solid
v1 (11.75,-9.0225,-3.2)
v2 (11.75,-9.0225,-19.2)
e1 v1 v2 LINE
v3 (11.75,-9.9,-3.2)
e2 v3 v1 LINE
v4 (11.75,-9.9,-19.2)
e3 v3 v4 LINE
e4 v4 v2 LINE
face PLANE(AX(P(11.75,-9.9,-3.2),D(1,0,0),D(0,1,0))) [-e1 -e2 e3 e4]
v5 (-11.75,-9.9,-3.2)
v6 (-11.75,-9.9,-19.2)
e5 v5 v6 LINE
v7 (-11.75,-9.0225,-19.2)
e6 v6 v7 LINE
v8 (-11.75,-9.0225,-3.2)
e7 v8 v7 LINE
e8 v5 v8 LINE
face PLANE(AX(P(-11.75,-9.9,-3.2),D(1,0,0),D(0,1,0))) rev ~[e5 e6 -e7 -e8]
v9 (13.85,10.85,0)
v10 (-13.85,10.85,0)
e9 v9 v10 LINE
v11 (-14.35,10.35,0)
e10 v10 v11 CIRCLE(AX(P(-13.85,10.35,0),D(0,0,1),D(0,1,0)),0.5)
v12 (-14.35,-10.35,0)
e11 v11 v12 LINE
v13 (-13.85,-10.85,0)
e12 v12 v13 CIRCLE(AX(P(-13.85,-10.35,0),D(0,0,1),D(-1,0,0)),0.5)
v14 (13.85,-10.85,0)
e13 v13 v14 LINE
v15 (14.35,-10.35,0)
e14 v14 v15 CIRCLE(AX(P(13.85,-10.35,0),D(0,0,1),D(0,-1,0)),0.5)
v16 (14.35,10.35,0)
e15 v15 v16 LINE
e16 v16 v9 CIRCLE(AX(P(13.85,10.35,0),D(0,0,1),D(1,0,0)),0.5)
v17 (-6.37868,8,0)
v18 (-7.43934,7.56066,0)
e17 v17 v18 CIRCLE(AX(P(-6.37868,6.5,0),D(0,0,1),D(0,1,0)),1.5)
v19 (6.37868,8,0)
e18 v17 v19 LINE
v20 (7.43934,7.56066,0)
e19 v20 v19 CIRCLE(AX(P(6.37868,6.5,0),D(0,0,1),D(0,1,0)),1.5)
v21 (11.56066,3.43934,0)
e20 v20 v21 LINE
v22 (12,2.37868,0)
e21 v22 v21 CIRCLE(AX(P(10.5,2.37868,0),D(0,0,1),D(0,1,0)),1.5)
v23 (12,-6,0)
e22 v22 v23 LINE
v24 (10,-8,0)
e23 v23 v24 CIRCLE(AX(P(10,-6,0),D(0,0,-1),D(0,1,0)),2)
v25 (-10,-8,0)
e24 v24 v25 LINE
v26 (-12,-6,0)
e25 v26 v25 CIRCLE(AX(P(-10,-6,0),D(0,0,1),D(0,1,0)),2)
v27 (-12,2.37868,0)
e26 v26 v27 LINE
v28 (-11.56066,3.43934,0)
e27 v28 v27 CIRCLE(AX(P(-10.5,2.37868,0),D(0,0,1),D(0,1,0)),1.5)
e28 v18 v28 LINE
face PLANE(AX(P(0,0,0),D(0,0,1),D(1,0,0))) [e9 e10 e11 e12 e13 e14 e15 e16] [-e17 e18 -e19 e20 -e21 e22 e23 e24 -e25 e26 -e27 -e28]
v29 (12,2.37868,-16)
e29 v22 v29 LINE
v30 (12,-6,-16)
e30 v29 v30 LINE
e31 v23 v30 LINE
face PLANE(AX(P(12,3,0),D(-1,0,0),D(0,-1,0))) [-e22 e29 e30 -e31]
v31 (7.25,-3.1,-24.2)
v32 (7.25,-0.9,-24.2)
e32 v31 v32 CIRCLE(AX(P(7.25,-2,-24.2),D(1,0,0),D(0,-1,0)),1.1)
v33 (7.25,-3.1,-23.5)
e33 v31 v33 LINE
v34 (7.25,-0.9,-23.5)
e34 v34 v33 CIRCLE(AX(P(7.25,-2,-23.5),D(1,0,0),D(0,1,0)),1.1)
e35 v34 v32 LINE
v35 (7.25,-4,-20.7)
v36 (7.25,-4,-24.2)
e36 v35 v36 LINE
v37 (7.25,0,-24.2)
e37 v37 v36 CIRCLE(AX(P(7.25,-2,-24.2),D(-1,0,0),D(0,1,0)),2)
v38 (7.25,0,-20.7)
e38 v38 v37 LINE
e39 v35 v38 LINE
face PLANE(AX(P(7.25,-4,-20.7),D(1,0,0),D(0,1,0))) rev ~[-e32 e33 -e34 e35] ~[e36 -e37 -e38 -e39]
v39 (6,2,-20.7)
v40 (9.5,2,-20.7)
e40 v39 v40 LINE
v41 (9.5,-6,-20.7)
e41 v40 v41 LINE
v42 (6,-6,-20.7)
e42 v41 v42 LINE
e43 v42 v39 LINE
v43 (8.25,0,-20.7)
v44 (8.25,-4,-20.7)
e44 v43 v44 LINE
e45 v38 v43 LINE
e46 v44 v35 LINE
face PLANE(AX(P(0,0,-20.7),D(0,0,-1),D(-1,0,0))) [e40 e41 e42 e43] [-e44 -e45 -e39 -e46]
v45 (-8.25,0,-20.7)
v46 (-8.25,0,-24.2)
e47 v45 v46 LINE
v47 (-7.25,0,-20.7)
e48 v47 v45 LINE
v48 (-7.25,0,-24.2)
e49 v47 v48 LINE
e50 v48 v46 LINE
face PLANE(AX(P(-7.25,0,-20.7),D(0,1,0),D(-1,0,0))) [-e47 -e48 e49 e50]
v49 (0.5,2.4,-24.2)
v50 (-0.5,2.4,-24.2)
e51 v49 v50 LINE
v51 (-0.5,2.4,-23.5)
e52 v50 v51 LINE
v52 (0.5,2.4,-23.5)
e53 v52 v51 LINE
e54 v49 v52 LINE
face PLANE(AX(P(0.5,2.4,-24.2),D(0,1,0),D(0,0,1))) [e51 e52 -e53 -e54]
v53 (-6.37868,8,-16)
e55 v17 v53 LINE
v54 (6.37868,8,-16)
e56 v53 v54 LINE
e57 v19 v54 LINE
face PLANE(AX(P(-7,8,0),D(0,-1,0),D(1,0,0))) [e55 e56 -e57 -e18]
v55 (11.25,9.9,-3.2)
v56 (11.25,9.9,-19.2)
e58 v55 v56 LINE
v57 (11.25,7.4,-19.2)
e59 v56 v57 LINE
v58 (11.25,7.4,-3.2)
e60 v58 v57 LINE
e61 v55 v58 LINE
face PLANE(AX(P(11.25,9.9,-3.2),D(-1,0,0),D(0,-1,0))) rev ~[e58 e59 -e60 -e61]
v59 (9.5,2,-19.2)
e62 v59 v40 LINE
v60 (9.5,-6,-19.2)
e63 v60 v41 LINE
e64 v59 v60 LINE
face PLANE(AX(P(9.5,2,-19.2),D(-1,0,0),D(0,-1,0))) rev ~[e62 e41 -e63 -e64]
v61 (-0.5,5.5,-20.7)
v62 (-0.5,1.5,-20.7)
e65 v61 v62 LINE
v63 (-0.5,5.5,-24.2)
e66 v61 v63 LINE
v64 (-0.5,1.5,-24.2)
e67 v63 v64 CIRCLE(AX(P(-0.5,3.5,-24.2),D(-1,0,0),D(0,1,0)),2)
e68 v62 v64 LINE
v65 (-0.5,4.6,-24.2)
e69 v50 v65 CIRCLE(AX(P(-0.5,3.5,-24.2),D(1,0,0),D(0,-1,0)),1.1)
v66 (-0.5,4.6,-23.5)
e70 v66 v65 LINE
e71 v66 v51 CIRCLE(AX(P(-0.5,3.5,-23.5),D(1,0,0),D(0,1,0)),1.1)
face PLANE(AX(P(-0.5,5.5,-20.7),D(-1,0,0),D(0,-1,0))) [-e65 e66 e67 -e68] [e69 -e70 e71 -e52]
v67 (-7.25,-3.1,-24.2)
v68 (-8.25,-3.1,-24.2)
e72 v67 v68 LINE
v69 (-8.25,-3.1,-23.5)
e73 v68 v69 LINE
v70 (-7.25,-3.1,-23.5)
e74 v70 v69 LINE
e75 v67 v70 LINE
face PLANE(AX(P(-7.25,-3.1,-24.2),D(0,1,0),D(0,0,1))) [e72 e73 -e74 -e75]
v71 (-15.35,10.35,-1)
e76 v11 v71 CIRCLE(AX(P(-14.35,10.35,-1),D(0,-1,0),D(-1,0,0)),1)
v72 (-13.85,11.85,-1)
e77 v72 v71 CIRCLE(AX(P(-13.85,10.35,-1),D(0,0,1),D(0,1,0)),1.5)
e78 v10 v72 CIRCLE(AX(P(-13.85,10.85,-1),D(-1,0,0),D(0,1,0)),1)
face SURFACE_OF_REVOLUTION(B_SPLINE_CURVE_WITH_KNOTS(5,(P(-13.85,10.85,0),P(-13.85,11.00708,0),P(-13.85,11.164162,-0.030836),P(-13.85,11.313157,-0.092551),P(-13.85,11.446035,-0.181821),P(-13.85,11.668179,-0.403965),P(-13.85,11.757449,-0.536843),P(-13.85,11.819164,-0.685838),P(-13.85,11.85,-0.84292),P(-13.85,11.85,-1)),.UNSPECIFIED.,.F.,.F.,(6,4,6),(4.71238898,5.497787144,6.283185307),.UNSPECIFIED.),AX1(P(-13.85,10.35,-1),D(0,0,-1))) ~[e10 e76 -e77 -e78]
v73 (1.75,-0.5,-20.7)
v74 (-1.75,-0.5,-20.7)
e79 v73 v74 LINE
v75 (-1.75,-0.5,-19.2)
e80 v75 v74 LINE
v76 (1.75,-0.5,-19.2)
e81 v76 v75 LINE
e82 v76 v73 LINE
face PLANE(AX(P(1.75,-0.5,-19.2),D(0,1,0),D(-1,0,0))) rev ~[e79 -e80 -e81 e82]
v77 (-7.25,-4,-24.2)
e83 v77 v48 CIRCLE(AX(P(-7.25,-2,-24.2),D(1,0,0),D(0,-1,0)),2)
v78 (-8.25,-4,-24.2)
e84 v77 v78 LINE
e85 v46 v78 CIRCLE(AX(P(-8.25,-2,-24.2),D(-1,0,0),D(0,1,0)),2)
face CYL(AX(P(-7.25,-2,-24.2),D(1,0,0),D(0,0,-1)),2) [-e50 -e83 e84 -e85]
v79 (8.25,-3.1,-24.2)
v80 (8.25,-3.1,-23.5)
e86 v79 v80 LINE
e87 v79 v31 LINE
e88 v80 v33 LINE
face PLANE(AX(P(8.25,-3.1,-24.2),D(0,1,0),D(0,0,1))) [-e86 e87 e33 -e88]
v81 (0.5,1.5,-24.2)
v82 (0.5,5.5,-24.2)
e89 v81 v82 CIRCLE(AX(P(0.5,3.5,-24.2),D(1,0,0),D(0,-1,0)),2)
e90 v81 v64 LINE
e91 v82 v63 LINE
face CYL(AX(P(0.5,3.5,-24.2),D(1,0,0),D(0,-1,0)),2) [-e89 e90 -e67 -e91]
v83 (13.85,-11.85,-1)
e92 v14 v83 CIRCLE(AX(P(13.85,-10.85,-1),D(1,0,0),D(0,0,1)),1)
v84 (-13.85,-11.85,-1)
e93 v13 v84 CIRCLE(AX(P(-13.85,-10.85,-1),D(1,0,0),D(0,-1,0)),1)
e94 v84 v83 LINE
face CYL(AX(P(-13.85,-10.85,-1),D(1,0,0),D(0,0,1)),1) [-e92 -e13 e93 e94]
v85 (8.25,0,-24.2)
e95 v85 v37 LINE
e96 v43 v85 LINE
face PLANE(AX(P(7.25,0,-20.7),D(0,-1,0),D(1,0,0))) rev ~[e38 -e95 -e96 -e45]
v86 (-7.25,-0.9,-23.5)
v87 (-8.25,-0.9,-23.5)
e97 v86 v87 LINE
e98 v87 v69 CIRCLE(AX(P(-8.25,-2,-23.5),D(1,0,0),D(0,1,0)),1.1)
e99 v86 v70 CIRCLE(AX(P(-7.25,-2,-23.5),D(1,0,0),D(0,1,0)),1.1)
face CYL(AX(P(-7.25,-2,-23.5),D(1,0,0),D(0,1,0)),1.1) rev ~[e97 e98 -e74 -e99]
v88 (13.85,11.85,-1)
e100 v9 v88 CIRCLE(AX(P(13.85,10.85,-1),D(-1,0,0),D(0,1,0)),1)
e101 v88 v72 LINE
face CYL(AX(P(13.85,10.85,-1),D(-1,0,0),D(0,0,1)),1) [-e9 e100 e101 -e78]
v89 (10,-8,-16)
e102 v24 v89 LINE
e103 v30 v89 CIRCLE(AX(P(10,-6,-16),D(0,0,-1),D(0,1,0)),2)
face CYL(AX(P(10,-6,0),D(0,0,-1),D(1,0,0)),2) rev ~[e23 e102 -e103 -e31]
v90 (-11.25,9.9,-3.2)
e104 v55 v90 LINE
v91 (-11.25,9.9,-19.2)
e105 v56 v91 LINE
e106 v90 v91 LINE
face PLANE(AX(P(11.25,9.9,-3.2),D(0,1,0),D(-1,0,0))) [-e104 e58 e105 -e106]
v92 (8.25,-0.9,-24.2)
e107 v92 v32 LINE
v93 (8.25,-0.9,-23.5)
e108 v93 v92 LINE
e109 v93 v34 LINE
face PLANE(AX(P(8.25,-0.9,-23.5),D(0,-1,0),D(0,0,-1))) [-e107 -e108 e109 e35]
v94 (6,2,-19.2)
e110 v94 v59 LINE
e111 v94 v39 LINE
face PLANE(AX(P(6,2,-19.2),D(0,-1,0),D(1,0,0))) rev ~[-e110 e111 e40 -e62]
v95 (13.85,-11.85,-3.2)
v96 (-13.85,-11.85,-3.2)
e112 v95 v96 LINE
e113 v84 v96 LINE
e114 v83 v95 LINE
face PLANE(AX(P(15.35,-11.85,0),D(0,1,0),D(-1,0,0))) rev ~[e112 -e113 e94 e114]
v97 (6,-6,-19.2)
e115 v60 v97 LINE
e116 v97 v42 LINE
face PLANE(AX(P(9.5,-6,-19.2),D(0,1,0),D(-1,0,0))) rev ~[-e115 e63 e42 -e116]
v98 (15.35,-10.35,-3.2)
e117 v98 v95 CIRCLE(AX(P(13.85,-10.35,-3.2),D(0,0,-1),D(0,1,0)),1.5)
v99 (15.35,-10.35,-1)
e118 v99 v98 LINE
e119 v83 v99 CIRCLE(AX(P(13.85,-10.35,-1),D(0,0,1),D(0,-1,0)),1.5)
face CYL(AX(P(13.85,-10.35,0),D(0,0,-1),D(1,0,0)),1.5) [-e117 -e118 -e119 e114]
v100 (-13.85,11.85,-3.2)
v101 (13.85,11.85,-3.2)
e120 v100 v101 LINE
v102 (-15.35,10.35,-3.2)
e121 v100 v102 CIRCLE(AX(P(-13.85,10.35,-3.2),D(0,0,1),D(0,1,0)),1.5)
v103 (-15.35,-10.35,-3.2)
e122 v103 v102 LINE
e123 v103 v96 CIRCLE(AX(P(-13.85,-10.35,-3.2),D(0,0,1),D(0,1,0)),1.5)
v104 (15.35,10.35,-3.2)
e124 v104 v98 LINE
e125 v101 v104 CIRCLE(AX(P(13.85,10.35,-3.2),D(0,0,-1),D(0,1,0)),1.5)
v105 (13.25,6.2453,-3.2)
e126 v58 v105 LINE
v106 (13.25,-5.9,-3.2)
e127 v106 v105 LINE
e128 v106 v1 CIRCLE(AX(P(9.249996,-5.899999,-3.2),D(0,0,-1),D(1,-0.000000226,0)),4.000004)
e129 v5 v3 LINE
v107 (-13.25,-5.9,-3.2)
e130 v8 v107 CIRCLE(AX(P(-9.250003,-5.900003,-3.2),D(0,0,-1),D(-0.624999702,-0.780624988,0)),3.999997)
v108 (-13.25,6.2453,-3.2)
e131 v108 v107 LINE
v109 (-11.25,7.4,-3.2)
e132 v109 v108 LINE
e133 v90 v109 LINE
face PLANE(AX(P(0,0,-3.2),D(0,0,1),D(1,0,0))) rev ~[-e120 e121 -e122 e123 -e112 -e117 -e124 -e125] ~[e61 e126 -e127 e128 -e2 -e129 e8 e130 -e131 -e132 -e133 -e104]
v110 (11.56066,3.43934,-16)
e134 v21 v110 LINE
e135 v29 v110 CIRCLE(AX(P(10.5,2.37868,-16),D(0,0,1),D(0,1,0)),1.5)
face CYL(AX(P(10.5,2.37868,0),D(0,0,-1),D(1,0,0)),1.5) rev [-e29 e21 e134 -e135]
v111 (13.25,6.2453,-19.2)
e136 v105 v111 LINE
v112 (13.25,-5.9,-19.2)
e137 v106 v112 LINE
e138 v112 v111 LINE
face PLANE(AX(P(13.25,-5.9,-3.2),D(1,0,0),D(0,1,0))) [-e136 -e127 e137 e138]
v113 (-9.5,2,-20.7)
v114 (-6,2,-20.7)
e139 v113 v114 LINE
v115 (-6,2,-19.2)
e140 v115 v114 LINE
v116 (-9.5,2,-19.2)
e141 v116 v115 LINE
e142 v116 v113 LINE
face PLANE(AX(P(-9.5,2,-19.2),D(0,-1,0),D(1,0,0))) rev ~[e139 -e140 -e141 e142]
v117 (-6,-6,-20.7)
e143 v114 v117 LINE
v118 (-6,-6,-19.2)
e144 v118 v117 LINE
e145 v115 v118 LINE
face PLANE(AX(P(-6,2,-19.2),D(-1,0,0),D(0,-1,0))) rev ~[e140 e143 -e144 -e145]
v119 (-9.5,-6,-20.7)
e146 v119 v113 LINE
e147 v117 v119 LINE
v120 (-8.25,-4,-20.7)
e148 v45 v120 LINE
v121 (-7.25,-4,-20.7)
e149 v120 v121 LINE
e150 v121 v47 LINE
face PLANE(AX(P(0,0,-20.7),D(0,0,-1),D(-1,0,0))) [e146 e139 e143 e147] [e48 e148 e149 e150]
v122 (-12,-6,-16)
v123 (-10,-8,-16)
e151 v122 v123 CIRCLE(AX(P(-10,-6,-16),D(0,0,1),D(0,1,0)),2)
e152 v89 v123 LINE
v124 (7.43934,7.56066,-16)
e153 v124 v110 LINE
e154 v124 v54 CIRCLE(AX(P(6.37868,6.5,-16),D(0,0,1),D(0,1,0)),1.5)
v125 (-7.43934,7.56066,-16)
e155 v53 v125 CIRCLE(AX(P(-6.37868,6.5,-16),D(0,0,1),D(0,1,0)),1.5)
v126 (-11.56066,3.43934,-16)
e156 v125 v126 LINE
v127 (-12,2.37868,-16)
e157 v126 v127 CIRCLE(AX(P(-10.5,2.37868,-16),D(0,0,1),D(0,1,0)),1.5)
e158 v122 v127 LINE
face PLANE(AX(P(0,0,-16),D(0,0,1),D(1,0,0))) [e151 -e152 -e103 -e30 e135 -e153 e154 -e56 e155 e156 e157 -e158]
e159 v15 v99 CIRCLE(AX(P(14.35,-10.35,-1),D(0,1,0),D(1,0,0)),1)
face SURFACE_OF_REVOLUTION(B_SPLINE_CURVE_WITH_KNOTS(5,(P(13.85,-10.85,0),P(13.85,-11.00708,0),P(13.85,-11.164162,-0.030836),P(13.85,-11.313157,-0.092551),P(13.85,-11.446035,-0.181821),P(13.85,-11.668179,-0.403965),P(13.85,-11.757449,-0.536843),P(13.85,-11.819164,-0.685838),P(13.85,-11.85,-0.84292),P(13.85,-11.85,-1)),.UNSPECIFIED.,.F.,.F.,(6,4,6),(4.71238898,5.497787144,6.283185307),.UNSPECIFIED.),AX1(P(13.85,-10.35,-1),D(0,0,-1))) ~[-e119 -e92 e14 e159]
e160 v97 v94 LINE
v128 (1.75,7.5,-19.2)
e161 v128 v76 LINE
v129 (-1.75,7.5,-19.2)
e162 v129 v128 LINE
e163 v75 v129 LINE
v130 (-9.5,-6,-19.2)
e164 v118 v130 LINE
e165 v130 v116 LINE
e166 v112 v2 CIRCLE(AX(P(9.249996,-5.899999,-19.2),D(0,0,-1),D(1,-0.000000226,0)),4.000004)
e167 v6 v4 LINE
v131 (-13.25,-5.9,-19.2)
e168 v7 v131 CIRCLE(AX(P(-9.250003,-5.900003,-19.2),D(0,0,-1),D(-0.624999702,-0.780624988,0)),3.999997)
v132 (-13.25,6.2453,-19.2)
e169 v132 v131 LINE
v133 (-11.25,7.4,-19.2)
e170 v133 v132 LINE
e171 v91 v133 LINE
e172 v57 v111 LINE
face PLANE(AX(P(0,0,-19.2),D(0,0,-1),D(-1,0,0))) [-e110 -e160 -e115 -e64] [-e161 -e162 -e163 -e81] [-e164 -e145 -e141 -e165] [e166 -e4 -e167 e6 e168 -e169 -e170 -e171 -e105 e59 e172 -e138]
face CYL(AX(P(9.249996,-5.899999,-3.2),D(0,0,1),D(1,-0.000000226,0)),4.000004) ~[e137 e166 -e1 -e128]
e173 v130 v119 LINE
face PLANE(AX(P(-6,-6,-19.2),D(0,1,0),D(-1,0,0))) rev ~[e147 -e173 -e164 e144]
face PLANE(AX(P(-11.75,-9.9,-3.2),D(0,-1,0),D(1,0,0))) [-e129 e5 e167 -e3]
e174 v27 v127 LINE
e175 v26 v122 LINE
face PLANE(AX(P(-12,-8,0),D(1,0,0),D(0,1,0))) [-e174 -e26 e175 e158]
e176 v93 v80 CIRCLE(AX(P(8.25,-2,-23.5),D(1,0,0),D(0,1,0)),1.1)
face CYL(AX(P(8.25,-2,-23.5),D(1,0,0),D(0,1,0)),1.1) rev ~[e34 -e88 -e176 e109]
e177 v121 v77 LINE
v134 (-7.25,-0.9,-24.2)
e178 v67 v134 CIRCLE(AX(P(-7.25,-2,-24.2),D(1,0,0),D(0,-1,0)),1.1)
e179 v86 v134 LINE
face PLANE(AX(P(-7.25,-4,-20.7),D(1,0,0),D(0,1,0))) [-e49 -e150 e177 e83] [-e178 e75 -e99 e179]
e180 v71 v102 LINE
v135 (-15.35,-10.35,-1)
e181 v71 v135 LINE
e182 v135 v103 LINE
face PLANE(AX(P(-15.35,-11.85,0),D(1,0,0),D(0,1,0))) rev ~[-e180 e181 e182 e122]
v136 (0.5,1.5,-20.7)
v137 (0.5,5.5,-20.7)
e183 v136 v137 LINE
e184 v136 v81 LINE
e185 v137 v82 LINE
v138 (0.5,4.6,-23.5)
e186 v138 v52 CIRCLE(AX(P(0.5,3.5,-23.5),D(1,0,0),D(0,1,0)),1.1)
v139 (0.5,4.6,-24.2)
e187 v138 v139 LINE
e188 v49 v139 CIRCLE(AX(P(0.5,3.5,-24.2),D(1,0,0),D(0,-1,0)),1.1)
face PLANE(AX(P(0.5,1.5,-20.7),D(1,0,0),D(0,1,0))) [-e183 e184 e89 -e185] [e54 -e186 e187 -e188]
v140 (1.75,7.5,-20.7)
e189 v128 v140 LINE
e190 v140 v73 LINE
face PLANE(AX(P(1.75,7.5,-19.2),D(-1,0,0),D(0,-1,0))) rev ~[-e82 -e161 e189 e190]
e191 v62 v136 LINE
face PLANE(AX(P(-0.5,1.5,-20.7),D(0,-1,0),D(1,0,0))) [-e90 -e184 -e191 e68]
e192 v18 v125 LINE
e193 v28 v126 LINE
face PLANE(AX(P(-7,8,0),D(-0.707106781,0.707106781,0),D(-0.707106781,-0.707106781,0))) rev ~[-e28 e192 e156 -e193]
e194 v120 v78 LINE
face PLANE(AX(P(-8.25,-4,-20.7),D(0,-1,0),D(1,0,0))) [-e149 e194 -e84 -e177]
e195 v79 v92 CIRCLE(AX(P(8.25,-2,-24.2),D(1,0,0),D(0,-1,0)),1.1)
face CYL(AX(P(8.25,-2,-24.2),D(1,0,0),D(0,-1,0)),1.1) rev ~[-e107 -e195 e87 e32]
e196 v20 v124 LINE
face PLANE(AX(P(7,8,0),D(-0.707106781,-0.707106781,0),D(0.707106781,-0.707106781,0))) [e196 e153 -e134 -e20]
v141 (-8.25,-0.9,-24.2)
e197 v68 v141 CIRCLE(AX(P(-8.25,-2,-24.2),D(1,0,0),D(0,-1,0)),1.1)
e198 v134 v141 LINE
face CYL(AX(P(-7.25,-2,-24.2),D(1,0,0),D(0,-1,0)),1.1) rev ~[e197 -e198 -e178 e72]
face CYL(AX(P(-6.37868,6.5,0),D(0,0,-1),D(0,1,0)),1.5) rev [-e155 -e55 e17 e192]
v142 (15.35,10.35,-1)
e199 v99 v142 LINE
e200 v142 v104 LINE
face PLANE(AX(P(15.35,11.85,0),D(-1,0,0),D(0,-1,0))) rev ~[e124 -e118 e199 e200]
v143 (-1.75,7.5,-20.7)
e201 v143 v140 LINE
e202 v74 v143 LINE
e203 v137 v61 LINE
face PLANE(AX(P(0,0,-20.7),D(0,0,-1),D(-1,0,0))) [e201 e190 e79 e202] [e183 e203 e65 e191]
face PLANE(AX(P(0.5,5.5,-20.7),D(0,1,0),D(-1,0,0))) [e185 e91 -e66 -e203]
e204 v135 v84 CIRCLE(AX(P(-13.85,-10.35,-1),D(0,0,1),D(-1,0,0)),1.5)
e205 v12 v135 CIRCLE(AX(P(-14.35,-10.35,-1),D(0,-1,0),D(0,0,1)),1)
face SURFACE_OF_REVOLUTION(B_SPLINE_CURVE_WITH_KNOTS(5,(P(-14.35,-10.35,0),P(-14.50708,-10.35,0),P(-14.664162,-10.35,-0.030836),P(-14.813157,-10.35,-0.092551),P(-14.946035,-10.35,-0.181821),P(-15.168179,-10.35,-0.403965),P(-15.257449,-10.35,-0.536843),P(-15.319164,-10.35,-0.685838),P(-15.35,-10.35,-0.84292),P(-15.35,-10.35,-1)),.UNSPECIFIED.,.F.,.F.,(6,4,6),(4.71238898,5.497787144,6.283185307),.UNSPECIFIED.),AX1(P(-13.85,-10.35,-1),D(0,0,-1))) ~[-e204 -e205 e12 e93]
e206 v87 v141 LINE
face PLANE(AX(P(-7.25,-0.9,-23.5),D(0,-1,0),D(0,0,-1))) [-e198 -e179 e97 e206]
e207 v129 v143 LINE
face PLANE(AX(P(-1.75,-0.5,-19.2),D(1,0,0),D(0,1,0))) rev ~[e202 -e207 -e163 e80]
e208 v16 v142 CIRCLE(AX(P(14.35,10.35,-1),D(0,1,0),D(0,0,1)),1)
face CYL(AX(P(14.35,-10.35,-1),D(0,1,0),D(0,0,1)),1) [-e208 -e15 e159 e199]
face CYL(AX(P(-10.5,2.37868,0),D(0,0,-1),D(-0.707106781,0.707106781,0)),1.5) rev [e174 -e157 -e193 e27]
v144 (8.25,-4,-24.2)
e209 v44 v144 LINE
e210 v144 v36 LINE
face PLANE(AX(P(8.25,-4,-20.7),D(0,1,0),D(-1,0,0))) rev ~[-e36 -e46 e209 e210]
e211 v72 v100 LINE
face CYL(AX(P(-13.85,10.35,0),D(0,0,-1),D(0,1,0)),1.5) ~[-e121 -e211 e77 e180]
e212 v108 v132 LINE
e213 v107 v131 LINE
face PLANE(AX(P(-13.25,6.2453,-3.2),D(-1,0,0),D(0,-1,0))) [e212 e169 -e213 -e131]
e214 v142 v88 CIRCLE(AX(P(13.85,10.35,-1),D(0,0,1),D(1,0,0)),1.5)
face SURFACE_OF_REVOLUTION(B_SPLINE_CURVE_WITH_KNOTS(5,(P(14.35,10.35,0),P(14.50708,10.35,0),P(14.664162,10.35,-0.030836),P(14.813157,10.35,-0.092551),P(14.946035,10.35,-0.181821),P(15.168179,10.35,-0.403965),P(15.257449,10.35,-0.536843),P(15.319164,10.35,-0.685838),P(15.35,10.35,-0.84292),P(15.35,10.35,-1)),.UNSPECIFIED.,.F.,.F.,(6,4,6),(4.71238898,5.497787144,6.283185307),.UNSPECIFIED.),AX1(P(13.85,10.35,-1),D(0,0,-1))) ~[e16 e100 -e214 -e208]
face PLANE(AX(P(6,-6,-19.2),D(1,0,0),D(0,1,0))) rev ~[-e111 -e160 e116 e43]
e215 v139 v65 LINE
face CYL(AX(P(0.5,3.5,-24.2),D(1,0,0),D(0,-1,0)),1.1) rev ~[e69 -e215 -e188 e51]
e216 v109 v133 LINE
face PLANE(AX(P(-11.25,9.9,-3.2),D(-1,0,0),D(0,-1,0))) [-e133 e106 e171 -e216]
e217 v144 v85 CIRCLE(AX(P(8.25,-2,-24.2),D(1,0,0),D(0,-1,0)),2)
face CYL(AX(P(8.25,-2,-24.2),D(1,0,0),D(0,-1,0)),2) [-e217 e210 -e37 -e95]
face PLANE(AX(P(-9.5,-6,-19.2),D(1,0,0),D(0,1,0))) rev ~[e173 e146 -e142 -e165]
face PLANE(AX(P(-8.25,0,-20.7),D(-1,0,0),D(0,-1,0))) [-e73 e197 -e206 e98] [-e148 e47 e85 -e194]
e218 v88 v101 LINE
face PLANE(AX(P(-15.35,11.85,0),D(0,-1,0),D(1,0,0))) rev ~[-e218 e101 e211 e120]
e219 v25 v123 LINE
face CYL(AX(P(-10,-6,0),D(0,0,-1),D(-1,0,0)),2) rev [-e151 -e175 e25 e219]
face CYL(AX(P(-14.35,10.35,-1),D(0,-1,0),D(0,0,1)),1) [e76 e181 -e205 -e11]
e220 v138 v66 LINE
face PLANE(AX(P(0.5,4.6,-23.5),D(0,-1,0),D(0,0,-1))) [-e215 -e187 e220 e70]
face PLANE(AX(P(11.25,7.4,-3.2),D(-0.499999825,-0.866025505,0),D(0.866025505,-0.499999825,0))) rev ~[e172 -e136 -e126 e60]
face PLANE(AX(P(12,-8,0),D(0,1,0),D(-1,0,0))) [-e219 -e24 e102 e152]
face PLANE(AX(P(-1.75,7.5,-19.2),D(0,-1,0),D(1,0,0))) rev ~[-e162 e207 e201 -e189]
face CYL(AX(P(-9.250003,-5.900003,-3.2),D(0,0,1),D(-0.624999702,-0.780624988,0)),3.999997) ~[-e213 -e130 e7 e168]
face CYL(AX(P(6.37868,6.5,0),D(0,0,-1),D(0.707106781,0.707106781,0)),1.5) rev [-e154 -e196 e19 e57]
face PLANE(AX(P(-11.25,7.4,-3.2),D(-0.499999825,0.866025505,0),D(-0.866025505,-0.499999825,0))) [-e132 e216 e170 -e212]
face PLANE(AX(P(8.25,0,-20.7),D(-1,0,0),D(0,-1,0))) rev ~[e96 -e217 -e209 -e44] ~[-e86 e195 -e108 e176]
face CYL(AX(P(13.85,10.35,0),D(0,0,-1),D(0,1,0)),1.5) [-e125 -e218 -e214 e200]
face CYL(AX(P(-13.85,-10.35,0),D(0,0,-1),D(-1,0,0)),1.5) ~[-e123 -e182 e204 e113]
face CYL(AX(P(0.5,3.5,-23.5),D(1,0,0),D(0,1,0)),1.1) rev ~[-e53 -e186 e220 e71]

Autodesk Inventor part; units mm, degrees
ref_plane "YZ Plane" through (0, 0, 0) normal (1, 0, 0) x (0, 1, 0)
ref_plane "XZ Plane" through (0, 0, 0) normal (0, 1, 0) x (-1, 0, 0)
ref_plane "XY Plane" through (0, 0, 0) normal (0, 0, 1) x (1, 0, 0)
sketch "Sketch1" plane through (0, 0, 0) normal (0, 0, 1) x (1, 0, 0)
  line L0 (-15.35, 11.85) -> (15.35, 11.85)
  line L1 (15.35, 11.85) -> (15.35, -11.85)
  line L2 (15.35, -11.85) -> (-15.35, -11.85)
  line L3 (-15.35, -11.85) -> (-15.35, 11.85)
  point P0 (0, 0)
  dimension "d0" = 30.7
  dimension "d2" = 23.7
  dimension "d3" = 15.35
  dimension "d4" = 11.85
extrude "Extrusion1" add sketch "Sketch1" against normal blind 3.2
sketch "Sketch2" plane through (0, 0, -3.2) normal (0, 0, -1) x (-1, 0, 0)
  line L0 (15.35, -11.85) -> (15.35, 11.85) projected
  line L1 (-11.25, 9.9) -> (11.25, 9.9)
  line L2 (13.25, 6.2453) -> (13.25, -5.9)
  line L3 (11.75, -9.9) -> (-11.75, -9.9)
  line L4 (-13.25, -5.9) -> (-13.25, 6.2453)
  line L5 (11.75, -9.9) -> (11.75, -9.0225)
  arc A0 (11.75, -9.0225) -> (13.25, -5.9) centre (9.25, -5.9) ccw
  line L6 (0, 0) -> (0, 2.1839)
  line L7 (-11.75, -9.9) -> (-11.75, -9.0225)
  arc A1 (-13.25, -5.9) -> (-11.75, -9.0225) centre (-9.25, -5.9) ccw
  line L8 (11.25, 9.9) -> (11.25, 7.4)
  line L9 (11.25, 7.4) -> (13.25, 6.2453)
  line L10 (-11.25, 9.9) -> (-11.25, 7.4)
  line L11 (-11.25, 7.4) -> (-13.25, 6.2453)
  dimension "d10" = 9.9
  dimension "d11" = 13.25
  dimension "d13" = 8
  dimension "d15" = 1.5
  dimension "d19" = 120
  dimension "d20" = 19.8
  dimension "d21" = 2
  dimension "d22" = 2.5
extrude "Extrusion2" add sketch "Sketch2" along normal blind 16
sketch "Sketch3" plane through (0, 0, -19.2) normal (0, 0, -1) x (-1, 0, 0)
  line L0 (-11.25, 9.9) -> (-11.25, 7.4) projected
  line L1 (-1.75, 7.5) -> (-1.75, -0.5)
  line L2 (-1.75, -0.5) -> (1.75, -0.5)
  line L3 (1.75, -0.5) -> (1.75, 7.5)
  line L4 (1.75, 7.5) -> (-1.75, 7.5)
  line L5 (-9.5, 2) -> (-9.5, -6)
  line L6 (-9.5, -6) -> (-6, -6)
  line L7 (-6, -6) -> (-6, 2)
  line L8 (-6, 2) -> (-9.5, 2)
  line L9 (6, 2) -> (6, -6)
  line L10 (6, -6) -> (9.5, -6)
  line L11 (9.5, -6) -> (9.5, 2)
  line L12 (9.5, 2) -> (6, 2)
  point P0 (0, 0)
  dimension "d25" = 3.5
  dimension "d27" = 8
  dimension "d28" = 1.75
  dimension "d29" = 7.5
  dimension "d30" = 3.5
  dimension "d31" = 8
  dimension "d32" = 3.5
  dimension "d33" = 8
  dimension "d34" = 2
  dimension "d35" = 2
  dimension "d36" = 6
  dimension "d37" = 6
extrude "Extrusion3" add sketch "Sketch3" along normal blind 1.5
sketch "Sketch4" plane through (0, 0, -20.7) normal (0, 0, -1) x (-1, 0, 0)
  line L0 (-6, -6) -> (-6, 2) projected
  line L1 (-6, 2) -> (-9.5, 2) projected
  line L2 (-8.25, 0) -> (-8.25, -4)
  line L3 (-8.25, -4) -> (-7.25, -4)
  line L4 (-7.25, -4) -> (-7.25, 0)
  line L5 (-7.25, 0) -> (-8.25, 0)
  point P0 (-9.5, -6)
  point P1 (0, 0)
  dimension "d40" = 4
  dimension "d42" = 1
  dimension "d43" = 1.25
  dimension "d44" = 3.5
  dimension "d45" = 8
  dimension "d46" = 2
extrude "Extrusion4" add sketch "Sketch4" along normal blind 5.5
sketch "Sketch6" plane through (0, 0, -20.7) normal (0, 0, -1) x (-1, 0, 0)
  line L0 (-1.75, -0.5) -> (1.75, -0.5) projected
  line L1 (1.75, -0.5) -> (1.75, 7.5) projected
  line L2 (1.75, 7.5) -> (-1.75, 7.5) projected
  line L3 (-0.5, 5.5) -> (0.5, 5.5)
  line L4 (0.5, 5.5) -> (0.5, 1.5)
  line L5 (0.5, 1.5) -> (-0.5, 1.5)
  line L6 (-0.5, 1.5) -> (-0.5, 5.5)
  point P0 (0, 0)
  dimension "d55" = 1
  dimension "d57" = 4
  dimension "d58" = 1.25
  dimension "d59" = 2
  dimension "d60" = 8
  dimension "d61" = 2
extrude "Extrusion5" add sketch "Sketch6" along normal blind 5.5
sketch "Sketch7" plane through (0, 0, -20.7) normal (0, 0, -1) x (-1, 0, 0)
  line L0 (9.5, -6) -> (9.5, 2) projected
  line L1 (9.5, 2) -> (6, 2) projected
  line L2 (8.25, -4) -> (7.25, -4)
  line L3 (7.25, -4) -> (7.25, 0)
  line L4 (7.25, 0) -> (8.25, 0)
  line L5 (8.25, 0) -> (8.25, -4)
  point P0 (0, 0)
  dimension "d64" = 2
  dimension "d65" = 4
  dimension "d66" = 1.25
  dimension "d67" = 1
extrude "Extrusion6" add sketch "Sketch7" along normal blind 5.5
sketch "Sketch8" plane through (8.25, -4, -20.7) normal (1, 0, 0) x (0, 0, -1)
  line L0 (0, 0) -> (0, 4) projected
  line L1 (0, 0) -> (5.5, 0) projected
  line L2 (5.5, 4) -> (5.5, 0) projected
  line L3 (0, 4) -> (5.5, 4) projected
  arc A0 (3.5, 0) -> (3.5, 4) centre (3.5, 2) ccw
  arc A1 (3.5, 0.9) -> (3.5, 3.1) centre (3.5, 2) ccw
  line L4 (3.5, 2) -> (2.8, 2)
  arc A2 (2.8, 3.1) -> (2.8, 0.9) centre (2.8, 2) ccw
  line L5 (2.8, 3.1) -> (3.5, 3.1)
  line L6 (3.5, 0.9) -> (2.8, 0.9)
  line L7 (3.5, 4) -> (5.5, 4)
  line L8 (5.5, 4) -> (5.5, 0)
  line L9 (5.5, 0) -> (3.5, 0)
  point P0 (-20.7, 4)
  dimension "d70" = 4
  dimension "d72" = 2.2
  dimension "d73" = 0.7
  dimension "d74" = 2.2
extrude "Extrusion7" cut sketch "Sketch8" against normal blind 1 contours A0 L2 L1 | L3 L2 A0 | L6 A2 L5 A1
sketch "Sketch11" plane through (0.5, 1.5, -20.7) normal (1, 0, 0) x (0, 0, -1)
  line L0 (0, 0) -> (0, 4) projected
  line L1 (0, 0) -> (5.5, 0) projected
  line L2 (5.5, 4) -> (5.5, 0) projected
  line L3 (0, 4) -> (5.5, 4) projected
  arc A0 (3.5, 0) -> (3.5, 4) centre (3.5, 2) ccw
  line L4 (3.5, 0) -> (5.5, 0)
  line L5 (5.5, 4) -> (5.5, 0)
  line L6 (5.5, 4) -> (3.5, 4)
  arc A1 (3.5, 0.9) -> (3.5, 3.1) centre (3.5, 2) ccw
  line L7 (3.5, 2) -> (2.8, 2)
  arc A2 (2.8, 3.1) -> (2.8, 0.9) centre (2.8, 2) ccw
  line L8 (2.8, 3.1) -> (3.5, 3.1)
  line L9 (3.5, 0.9) -> (2.8, 0.9)
  point P0 (-20.7, -1.5)
  dimension "d88" = 4
  dimension "d91" = 2.2
  dimension "d92" = 0.7
  dimension "d93" = 2.2
sketch "Sketch12" plane through (-7.25, -4, -20.7) normal (1, 0, 0) x (0, 0, -1)
  arc A0 (3.5, 0) -> (3.5, 4) centre (3.5, 2) ccw
  arc A1 (3.5, 0.9) -> (3.5, 3.1) centre (3.5, 2) ccw
  line L0 (3.5, 2) -> (2.8, 2)
  arc A2 (2.8, 3.1) -> (2.8, 0.9) centre (2.8, 2) ccw
  line L1 (2.8, 3.1) -> (3.5, 3.1)
  line L2 (3.5, 0.9) -> (2.8, 0.9)
  line L3 (0, 4) -> (5.5, 4) projected
  line L4 (5.5, 4) -> (5.5, 0)
  line L5 (5.5, 4) -> (3.5, 4)
  line L6 (3.5, 0) -> (5.5, 0)
  point P0 (-20.7, -1.5)
  dimension "d94" = 4
  dimension "d95" = 2.2
  dimension "d96" = 0.7
  dimension "d97" = 2.2
extrude "Extrusion8" cut sketch "Sketch11" against normal blind 1 contours A0 L2 L1 | L3 L2 A0 | L9 A2 L8 A1
extrude "Extrusion9" cut sketch "Sketch12" against normal blind 1 contours L2 A2 L1 A1
sketch "Sketch13" plane through (-7.25, -4, -20.7) normal (1, 0, 0) x (0, 0, -1)
  line L0 (0, 0) -> (5.5, 0) projected
  line L1 (5.5, 4) -> (5.5, 0) projected
  line L2 (0, 4) -> (5.5, 4) projected
  circle A0 centre (3.5, 2) radius 2
  line L3 (3.5, 4) -> (5.5, 4)
  line L4 (5.5, 0) -> (5.5, 4)
  line L5 (3.5, 0) -> (5.5, 0)
  point P0 (-20.7, 4)
  dimension "d102" = 4
extrude "Extrusion10" cut sketch "Sketch13" against normal blind 1 contours A0 L1 L0 | L2 L1 A0
sketch "Sketch14" plane through (0, 0, 0) normal (0, 0, 1) x (1, 0, 0)
  line L0 (12, -8) -> (-12, -8)
  line L1 (-7, 8) -> (7, 8)
  line L2 (12, 3) -> (12, -8)
  line L3 (7, 8) -> (12, 3)
  line L4 (0, 0) -> (0, 4.7583)
  line L5 (-7, 8) -> (-12, 3)
  line L6 (-12, -8) -> (-12, 3)
  dimension "d107" = 16
  dimension "d108" = 12
  dimension "d109" = 8
  dimension "d110" = 45
  dimension "d111" = 5
extrude "Extrusion11" cut sketch "Sketch14" against normal blind 16
fillet "Fillet1" radius 1.5 4 edges at (-15.35, 11.85, -1.6) (15.35, 11.85, -1.6) (15.35, -11.85, -1.6) (-15.35, -11.85, -1.6)
fillet "Fillet2" radius 2 2 edges at (-12, -8, -8) (12, -8, -8)
fillet "Fillet3" radius 1.5 4 edges at (-12, 3, -8) (-7, 8, -8) (7, 8, -8) (12, 3, -8)
fillet "Fillet4" radius 1 8 edges at (-14.9107, 11.4107, 0) (0, 11.85, 0) (14.9107, 11.4107, 0) (15.35, 0, 0) (14.9107, -11.4107, 0) (0, -11.85, 0) (-14.9107, -11.4107, 0) (-15.35, 0, 0)
properties part number "701W-X202"
